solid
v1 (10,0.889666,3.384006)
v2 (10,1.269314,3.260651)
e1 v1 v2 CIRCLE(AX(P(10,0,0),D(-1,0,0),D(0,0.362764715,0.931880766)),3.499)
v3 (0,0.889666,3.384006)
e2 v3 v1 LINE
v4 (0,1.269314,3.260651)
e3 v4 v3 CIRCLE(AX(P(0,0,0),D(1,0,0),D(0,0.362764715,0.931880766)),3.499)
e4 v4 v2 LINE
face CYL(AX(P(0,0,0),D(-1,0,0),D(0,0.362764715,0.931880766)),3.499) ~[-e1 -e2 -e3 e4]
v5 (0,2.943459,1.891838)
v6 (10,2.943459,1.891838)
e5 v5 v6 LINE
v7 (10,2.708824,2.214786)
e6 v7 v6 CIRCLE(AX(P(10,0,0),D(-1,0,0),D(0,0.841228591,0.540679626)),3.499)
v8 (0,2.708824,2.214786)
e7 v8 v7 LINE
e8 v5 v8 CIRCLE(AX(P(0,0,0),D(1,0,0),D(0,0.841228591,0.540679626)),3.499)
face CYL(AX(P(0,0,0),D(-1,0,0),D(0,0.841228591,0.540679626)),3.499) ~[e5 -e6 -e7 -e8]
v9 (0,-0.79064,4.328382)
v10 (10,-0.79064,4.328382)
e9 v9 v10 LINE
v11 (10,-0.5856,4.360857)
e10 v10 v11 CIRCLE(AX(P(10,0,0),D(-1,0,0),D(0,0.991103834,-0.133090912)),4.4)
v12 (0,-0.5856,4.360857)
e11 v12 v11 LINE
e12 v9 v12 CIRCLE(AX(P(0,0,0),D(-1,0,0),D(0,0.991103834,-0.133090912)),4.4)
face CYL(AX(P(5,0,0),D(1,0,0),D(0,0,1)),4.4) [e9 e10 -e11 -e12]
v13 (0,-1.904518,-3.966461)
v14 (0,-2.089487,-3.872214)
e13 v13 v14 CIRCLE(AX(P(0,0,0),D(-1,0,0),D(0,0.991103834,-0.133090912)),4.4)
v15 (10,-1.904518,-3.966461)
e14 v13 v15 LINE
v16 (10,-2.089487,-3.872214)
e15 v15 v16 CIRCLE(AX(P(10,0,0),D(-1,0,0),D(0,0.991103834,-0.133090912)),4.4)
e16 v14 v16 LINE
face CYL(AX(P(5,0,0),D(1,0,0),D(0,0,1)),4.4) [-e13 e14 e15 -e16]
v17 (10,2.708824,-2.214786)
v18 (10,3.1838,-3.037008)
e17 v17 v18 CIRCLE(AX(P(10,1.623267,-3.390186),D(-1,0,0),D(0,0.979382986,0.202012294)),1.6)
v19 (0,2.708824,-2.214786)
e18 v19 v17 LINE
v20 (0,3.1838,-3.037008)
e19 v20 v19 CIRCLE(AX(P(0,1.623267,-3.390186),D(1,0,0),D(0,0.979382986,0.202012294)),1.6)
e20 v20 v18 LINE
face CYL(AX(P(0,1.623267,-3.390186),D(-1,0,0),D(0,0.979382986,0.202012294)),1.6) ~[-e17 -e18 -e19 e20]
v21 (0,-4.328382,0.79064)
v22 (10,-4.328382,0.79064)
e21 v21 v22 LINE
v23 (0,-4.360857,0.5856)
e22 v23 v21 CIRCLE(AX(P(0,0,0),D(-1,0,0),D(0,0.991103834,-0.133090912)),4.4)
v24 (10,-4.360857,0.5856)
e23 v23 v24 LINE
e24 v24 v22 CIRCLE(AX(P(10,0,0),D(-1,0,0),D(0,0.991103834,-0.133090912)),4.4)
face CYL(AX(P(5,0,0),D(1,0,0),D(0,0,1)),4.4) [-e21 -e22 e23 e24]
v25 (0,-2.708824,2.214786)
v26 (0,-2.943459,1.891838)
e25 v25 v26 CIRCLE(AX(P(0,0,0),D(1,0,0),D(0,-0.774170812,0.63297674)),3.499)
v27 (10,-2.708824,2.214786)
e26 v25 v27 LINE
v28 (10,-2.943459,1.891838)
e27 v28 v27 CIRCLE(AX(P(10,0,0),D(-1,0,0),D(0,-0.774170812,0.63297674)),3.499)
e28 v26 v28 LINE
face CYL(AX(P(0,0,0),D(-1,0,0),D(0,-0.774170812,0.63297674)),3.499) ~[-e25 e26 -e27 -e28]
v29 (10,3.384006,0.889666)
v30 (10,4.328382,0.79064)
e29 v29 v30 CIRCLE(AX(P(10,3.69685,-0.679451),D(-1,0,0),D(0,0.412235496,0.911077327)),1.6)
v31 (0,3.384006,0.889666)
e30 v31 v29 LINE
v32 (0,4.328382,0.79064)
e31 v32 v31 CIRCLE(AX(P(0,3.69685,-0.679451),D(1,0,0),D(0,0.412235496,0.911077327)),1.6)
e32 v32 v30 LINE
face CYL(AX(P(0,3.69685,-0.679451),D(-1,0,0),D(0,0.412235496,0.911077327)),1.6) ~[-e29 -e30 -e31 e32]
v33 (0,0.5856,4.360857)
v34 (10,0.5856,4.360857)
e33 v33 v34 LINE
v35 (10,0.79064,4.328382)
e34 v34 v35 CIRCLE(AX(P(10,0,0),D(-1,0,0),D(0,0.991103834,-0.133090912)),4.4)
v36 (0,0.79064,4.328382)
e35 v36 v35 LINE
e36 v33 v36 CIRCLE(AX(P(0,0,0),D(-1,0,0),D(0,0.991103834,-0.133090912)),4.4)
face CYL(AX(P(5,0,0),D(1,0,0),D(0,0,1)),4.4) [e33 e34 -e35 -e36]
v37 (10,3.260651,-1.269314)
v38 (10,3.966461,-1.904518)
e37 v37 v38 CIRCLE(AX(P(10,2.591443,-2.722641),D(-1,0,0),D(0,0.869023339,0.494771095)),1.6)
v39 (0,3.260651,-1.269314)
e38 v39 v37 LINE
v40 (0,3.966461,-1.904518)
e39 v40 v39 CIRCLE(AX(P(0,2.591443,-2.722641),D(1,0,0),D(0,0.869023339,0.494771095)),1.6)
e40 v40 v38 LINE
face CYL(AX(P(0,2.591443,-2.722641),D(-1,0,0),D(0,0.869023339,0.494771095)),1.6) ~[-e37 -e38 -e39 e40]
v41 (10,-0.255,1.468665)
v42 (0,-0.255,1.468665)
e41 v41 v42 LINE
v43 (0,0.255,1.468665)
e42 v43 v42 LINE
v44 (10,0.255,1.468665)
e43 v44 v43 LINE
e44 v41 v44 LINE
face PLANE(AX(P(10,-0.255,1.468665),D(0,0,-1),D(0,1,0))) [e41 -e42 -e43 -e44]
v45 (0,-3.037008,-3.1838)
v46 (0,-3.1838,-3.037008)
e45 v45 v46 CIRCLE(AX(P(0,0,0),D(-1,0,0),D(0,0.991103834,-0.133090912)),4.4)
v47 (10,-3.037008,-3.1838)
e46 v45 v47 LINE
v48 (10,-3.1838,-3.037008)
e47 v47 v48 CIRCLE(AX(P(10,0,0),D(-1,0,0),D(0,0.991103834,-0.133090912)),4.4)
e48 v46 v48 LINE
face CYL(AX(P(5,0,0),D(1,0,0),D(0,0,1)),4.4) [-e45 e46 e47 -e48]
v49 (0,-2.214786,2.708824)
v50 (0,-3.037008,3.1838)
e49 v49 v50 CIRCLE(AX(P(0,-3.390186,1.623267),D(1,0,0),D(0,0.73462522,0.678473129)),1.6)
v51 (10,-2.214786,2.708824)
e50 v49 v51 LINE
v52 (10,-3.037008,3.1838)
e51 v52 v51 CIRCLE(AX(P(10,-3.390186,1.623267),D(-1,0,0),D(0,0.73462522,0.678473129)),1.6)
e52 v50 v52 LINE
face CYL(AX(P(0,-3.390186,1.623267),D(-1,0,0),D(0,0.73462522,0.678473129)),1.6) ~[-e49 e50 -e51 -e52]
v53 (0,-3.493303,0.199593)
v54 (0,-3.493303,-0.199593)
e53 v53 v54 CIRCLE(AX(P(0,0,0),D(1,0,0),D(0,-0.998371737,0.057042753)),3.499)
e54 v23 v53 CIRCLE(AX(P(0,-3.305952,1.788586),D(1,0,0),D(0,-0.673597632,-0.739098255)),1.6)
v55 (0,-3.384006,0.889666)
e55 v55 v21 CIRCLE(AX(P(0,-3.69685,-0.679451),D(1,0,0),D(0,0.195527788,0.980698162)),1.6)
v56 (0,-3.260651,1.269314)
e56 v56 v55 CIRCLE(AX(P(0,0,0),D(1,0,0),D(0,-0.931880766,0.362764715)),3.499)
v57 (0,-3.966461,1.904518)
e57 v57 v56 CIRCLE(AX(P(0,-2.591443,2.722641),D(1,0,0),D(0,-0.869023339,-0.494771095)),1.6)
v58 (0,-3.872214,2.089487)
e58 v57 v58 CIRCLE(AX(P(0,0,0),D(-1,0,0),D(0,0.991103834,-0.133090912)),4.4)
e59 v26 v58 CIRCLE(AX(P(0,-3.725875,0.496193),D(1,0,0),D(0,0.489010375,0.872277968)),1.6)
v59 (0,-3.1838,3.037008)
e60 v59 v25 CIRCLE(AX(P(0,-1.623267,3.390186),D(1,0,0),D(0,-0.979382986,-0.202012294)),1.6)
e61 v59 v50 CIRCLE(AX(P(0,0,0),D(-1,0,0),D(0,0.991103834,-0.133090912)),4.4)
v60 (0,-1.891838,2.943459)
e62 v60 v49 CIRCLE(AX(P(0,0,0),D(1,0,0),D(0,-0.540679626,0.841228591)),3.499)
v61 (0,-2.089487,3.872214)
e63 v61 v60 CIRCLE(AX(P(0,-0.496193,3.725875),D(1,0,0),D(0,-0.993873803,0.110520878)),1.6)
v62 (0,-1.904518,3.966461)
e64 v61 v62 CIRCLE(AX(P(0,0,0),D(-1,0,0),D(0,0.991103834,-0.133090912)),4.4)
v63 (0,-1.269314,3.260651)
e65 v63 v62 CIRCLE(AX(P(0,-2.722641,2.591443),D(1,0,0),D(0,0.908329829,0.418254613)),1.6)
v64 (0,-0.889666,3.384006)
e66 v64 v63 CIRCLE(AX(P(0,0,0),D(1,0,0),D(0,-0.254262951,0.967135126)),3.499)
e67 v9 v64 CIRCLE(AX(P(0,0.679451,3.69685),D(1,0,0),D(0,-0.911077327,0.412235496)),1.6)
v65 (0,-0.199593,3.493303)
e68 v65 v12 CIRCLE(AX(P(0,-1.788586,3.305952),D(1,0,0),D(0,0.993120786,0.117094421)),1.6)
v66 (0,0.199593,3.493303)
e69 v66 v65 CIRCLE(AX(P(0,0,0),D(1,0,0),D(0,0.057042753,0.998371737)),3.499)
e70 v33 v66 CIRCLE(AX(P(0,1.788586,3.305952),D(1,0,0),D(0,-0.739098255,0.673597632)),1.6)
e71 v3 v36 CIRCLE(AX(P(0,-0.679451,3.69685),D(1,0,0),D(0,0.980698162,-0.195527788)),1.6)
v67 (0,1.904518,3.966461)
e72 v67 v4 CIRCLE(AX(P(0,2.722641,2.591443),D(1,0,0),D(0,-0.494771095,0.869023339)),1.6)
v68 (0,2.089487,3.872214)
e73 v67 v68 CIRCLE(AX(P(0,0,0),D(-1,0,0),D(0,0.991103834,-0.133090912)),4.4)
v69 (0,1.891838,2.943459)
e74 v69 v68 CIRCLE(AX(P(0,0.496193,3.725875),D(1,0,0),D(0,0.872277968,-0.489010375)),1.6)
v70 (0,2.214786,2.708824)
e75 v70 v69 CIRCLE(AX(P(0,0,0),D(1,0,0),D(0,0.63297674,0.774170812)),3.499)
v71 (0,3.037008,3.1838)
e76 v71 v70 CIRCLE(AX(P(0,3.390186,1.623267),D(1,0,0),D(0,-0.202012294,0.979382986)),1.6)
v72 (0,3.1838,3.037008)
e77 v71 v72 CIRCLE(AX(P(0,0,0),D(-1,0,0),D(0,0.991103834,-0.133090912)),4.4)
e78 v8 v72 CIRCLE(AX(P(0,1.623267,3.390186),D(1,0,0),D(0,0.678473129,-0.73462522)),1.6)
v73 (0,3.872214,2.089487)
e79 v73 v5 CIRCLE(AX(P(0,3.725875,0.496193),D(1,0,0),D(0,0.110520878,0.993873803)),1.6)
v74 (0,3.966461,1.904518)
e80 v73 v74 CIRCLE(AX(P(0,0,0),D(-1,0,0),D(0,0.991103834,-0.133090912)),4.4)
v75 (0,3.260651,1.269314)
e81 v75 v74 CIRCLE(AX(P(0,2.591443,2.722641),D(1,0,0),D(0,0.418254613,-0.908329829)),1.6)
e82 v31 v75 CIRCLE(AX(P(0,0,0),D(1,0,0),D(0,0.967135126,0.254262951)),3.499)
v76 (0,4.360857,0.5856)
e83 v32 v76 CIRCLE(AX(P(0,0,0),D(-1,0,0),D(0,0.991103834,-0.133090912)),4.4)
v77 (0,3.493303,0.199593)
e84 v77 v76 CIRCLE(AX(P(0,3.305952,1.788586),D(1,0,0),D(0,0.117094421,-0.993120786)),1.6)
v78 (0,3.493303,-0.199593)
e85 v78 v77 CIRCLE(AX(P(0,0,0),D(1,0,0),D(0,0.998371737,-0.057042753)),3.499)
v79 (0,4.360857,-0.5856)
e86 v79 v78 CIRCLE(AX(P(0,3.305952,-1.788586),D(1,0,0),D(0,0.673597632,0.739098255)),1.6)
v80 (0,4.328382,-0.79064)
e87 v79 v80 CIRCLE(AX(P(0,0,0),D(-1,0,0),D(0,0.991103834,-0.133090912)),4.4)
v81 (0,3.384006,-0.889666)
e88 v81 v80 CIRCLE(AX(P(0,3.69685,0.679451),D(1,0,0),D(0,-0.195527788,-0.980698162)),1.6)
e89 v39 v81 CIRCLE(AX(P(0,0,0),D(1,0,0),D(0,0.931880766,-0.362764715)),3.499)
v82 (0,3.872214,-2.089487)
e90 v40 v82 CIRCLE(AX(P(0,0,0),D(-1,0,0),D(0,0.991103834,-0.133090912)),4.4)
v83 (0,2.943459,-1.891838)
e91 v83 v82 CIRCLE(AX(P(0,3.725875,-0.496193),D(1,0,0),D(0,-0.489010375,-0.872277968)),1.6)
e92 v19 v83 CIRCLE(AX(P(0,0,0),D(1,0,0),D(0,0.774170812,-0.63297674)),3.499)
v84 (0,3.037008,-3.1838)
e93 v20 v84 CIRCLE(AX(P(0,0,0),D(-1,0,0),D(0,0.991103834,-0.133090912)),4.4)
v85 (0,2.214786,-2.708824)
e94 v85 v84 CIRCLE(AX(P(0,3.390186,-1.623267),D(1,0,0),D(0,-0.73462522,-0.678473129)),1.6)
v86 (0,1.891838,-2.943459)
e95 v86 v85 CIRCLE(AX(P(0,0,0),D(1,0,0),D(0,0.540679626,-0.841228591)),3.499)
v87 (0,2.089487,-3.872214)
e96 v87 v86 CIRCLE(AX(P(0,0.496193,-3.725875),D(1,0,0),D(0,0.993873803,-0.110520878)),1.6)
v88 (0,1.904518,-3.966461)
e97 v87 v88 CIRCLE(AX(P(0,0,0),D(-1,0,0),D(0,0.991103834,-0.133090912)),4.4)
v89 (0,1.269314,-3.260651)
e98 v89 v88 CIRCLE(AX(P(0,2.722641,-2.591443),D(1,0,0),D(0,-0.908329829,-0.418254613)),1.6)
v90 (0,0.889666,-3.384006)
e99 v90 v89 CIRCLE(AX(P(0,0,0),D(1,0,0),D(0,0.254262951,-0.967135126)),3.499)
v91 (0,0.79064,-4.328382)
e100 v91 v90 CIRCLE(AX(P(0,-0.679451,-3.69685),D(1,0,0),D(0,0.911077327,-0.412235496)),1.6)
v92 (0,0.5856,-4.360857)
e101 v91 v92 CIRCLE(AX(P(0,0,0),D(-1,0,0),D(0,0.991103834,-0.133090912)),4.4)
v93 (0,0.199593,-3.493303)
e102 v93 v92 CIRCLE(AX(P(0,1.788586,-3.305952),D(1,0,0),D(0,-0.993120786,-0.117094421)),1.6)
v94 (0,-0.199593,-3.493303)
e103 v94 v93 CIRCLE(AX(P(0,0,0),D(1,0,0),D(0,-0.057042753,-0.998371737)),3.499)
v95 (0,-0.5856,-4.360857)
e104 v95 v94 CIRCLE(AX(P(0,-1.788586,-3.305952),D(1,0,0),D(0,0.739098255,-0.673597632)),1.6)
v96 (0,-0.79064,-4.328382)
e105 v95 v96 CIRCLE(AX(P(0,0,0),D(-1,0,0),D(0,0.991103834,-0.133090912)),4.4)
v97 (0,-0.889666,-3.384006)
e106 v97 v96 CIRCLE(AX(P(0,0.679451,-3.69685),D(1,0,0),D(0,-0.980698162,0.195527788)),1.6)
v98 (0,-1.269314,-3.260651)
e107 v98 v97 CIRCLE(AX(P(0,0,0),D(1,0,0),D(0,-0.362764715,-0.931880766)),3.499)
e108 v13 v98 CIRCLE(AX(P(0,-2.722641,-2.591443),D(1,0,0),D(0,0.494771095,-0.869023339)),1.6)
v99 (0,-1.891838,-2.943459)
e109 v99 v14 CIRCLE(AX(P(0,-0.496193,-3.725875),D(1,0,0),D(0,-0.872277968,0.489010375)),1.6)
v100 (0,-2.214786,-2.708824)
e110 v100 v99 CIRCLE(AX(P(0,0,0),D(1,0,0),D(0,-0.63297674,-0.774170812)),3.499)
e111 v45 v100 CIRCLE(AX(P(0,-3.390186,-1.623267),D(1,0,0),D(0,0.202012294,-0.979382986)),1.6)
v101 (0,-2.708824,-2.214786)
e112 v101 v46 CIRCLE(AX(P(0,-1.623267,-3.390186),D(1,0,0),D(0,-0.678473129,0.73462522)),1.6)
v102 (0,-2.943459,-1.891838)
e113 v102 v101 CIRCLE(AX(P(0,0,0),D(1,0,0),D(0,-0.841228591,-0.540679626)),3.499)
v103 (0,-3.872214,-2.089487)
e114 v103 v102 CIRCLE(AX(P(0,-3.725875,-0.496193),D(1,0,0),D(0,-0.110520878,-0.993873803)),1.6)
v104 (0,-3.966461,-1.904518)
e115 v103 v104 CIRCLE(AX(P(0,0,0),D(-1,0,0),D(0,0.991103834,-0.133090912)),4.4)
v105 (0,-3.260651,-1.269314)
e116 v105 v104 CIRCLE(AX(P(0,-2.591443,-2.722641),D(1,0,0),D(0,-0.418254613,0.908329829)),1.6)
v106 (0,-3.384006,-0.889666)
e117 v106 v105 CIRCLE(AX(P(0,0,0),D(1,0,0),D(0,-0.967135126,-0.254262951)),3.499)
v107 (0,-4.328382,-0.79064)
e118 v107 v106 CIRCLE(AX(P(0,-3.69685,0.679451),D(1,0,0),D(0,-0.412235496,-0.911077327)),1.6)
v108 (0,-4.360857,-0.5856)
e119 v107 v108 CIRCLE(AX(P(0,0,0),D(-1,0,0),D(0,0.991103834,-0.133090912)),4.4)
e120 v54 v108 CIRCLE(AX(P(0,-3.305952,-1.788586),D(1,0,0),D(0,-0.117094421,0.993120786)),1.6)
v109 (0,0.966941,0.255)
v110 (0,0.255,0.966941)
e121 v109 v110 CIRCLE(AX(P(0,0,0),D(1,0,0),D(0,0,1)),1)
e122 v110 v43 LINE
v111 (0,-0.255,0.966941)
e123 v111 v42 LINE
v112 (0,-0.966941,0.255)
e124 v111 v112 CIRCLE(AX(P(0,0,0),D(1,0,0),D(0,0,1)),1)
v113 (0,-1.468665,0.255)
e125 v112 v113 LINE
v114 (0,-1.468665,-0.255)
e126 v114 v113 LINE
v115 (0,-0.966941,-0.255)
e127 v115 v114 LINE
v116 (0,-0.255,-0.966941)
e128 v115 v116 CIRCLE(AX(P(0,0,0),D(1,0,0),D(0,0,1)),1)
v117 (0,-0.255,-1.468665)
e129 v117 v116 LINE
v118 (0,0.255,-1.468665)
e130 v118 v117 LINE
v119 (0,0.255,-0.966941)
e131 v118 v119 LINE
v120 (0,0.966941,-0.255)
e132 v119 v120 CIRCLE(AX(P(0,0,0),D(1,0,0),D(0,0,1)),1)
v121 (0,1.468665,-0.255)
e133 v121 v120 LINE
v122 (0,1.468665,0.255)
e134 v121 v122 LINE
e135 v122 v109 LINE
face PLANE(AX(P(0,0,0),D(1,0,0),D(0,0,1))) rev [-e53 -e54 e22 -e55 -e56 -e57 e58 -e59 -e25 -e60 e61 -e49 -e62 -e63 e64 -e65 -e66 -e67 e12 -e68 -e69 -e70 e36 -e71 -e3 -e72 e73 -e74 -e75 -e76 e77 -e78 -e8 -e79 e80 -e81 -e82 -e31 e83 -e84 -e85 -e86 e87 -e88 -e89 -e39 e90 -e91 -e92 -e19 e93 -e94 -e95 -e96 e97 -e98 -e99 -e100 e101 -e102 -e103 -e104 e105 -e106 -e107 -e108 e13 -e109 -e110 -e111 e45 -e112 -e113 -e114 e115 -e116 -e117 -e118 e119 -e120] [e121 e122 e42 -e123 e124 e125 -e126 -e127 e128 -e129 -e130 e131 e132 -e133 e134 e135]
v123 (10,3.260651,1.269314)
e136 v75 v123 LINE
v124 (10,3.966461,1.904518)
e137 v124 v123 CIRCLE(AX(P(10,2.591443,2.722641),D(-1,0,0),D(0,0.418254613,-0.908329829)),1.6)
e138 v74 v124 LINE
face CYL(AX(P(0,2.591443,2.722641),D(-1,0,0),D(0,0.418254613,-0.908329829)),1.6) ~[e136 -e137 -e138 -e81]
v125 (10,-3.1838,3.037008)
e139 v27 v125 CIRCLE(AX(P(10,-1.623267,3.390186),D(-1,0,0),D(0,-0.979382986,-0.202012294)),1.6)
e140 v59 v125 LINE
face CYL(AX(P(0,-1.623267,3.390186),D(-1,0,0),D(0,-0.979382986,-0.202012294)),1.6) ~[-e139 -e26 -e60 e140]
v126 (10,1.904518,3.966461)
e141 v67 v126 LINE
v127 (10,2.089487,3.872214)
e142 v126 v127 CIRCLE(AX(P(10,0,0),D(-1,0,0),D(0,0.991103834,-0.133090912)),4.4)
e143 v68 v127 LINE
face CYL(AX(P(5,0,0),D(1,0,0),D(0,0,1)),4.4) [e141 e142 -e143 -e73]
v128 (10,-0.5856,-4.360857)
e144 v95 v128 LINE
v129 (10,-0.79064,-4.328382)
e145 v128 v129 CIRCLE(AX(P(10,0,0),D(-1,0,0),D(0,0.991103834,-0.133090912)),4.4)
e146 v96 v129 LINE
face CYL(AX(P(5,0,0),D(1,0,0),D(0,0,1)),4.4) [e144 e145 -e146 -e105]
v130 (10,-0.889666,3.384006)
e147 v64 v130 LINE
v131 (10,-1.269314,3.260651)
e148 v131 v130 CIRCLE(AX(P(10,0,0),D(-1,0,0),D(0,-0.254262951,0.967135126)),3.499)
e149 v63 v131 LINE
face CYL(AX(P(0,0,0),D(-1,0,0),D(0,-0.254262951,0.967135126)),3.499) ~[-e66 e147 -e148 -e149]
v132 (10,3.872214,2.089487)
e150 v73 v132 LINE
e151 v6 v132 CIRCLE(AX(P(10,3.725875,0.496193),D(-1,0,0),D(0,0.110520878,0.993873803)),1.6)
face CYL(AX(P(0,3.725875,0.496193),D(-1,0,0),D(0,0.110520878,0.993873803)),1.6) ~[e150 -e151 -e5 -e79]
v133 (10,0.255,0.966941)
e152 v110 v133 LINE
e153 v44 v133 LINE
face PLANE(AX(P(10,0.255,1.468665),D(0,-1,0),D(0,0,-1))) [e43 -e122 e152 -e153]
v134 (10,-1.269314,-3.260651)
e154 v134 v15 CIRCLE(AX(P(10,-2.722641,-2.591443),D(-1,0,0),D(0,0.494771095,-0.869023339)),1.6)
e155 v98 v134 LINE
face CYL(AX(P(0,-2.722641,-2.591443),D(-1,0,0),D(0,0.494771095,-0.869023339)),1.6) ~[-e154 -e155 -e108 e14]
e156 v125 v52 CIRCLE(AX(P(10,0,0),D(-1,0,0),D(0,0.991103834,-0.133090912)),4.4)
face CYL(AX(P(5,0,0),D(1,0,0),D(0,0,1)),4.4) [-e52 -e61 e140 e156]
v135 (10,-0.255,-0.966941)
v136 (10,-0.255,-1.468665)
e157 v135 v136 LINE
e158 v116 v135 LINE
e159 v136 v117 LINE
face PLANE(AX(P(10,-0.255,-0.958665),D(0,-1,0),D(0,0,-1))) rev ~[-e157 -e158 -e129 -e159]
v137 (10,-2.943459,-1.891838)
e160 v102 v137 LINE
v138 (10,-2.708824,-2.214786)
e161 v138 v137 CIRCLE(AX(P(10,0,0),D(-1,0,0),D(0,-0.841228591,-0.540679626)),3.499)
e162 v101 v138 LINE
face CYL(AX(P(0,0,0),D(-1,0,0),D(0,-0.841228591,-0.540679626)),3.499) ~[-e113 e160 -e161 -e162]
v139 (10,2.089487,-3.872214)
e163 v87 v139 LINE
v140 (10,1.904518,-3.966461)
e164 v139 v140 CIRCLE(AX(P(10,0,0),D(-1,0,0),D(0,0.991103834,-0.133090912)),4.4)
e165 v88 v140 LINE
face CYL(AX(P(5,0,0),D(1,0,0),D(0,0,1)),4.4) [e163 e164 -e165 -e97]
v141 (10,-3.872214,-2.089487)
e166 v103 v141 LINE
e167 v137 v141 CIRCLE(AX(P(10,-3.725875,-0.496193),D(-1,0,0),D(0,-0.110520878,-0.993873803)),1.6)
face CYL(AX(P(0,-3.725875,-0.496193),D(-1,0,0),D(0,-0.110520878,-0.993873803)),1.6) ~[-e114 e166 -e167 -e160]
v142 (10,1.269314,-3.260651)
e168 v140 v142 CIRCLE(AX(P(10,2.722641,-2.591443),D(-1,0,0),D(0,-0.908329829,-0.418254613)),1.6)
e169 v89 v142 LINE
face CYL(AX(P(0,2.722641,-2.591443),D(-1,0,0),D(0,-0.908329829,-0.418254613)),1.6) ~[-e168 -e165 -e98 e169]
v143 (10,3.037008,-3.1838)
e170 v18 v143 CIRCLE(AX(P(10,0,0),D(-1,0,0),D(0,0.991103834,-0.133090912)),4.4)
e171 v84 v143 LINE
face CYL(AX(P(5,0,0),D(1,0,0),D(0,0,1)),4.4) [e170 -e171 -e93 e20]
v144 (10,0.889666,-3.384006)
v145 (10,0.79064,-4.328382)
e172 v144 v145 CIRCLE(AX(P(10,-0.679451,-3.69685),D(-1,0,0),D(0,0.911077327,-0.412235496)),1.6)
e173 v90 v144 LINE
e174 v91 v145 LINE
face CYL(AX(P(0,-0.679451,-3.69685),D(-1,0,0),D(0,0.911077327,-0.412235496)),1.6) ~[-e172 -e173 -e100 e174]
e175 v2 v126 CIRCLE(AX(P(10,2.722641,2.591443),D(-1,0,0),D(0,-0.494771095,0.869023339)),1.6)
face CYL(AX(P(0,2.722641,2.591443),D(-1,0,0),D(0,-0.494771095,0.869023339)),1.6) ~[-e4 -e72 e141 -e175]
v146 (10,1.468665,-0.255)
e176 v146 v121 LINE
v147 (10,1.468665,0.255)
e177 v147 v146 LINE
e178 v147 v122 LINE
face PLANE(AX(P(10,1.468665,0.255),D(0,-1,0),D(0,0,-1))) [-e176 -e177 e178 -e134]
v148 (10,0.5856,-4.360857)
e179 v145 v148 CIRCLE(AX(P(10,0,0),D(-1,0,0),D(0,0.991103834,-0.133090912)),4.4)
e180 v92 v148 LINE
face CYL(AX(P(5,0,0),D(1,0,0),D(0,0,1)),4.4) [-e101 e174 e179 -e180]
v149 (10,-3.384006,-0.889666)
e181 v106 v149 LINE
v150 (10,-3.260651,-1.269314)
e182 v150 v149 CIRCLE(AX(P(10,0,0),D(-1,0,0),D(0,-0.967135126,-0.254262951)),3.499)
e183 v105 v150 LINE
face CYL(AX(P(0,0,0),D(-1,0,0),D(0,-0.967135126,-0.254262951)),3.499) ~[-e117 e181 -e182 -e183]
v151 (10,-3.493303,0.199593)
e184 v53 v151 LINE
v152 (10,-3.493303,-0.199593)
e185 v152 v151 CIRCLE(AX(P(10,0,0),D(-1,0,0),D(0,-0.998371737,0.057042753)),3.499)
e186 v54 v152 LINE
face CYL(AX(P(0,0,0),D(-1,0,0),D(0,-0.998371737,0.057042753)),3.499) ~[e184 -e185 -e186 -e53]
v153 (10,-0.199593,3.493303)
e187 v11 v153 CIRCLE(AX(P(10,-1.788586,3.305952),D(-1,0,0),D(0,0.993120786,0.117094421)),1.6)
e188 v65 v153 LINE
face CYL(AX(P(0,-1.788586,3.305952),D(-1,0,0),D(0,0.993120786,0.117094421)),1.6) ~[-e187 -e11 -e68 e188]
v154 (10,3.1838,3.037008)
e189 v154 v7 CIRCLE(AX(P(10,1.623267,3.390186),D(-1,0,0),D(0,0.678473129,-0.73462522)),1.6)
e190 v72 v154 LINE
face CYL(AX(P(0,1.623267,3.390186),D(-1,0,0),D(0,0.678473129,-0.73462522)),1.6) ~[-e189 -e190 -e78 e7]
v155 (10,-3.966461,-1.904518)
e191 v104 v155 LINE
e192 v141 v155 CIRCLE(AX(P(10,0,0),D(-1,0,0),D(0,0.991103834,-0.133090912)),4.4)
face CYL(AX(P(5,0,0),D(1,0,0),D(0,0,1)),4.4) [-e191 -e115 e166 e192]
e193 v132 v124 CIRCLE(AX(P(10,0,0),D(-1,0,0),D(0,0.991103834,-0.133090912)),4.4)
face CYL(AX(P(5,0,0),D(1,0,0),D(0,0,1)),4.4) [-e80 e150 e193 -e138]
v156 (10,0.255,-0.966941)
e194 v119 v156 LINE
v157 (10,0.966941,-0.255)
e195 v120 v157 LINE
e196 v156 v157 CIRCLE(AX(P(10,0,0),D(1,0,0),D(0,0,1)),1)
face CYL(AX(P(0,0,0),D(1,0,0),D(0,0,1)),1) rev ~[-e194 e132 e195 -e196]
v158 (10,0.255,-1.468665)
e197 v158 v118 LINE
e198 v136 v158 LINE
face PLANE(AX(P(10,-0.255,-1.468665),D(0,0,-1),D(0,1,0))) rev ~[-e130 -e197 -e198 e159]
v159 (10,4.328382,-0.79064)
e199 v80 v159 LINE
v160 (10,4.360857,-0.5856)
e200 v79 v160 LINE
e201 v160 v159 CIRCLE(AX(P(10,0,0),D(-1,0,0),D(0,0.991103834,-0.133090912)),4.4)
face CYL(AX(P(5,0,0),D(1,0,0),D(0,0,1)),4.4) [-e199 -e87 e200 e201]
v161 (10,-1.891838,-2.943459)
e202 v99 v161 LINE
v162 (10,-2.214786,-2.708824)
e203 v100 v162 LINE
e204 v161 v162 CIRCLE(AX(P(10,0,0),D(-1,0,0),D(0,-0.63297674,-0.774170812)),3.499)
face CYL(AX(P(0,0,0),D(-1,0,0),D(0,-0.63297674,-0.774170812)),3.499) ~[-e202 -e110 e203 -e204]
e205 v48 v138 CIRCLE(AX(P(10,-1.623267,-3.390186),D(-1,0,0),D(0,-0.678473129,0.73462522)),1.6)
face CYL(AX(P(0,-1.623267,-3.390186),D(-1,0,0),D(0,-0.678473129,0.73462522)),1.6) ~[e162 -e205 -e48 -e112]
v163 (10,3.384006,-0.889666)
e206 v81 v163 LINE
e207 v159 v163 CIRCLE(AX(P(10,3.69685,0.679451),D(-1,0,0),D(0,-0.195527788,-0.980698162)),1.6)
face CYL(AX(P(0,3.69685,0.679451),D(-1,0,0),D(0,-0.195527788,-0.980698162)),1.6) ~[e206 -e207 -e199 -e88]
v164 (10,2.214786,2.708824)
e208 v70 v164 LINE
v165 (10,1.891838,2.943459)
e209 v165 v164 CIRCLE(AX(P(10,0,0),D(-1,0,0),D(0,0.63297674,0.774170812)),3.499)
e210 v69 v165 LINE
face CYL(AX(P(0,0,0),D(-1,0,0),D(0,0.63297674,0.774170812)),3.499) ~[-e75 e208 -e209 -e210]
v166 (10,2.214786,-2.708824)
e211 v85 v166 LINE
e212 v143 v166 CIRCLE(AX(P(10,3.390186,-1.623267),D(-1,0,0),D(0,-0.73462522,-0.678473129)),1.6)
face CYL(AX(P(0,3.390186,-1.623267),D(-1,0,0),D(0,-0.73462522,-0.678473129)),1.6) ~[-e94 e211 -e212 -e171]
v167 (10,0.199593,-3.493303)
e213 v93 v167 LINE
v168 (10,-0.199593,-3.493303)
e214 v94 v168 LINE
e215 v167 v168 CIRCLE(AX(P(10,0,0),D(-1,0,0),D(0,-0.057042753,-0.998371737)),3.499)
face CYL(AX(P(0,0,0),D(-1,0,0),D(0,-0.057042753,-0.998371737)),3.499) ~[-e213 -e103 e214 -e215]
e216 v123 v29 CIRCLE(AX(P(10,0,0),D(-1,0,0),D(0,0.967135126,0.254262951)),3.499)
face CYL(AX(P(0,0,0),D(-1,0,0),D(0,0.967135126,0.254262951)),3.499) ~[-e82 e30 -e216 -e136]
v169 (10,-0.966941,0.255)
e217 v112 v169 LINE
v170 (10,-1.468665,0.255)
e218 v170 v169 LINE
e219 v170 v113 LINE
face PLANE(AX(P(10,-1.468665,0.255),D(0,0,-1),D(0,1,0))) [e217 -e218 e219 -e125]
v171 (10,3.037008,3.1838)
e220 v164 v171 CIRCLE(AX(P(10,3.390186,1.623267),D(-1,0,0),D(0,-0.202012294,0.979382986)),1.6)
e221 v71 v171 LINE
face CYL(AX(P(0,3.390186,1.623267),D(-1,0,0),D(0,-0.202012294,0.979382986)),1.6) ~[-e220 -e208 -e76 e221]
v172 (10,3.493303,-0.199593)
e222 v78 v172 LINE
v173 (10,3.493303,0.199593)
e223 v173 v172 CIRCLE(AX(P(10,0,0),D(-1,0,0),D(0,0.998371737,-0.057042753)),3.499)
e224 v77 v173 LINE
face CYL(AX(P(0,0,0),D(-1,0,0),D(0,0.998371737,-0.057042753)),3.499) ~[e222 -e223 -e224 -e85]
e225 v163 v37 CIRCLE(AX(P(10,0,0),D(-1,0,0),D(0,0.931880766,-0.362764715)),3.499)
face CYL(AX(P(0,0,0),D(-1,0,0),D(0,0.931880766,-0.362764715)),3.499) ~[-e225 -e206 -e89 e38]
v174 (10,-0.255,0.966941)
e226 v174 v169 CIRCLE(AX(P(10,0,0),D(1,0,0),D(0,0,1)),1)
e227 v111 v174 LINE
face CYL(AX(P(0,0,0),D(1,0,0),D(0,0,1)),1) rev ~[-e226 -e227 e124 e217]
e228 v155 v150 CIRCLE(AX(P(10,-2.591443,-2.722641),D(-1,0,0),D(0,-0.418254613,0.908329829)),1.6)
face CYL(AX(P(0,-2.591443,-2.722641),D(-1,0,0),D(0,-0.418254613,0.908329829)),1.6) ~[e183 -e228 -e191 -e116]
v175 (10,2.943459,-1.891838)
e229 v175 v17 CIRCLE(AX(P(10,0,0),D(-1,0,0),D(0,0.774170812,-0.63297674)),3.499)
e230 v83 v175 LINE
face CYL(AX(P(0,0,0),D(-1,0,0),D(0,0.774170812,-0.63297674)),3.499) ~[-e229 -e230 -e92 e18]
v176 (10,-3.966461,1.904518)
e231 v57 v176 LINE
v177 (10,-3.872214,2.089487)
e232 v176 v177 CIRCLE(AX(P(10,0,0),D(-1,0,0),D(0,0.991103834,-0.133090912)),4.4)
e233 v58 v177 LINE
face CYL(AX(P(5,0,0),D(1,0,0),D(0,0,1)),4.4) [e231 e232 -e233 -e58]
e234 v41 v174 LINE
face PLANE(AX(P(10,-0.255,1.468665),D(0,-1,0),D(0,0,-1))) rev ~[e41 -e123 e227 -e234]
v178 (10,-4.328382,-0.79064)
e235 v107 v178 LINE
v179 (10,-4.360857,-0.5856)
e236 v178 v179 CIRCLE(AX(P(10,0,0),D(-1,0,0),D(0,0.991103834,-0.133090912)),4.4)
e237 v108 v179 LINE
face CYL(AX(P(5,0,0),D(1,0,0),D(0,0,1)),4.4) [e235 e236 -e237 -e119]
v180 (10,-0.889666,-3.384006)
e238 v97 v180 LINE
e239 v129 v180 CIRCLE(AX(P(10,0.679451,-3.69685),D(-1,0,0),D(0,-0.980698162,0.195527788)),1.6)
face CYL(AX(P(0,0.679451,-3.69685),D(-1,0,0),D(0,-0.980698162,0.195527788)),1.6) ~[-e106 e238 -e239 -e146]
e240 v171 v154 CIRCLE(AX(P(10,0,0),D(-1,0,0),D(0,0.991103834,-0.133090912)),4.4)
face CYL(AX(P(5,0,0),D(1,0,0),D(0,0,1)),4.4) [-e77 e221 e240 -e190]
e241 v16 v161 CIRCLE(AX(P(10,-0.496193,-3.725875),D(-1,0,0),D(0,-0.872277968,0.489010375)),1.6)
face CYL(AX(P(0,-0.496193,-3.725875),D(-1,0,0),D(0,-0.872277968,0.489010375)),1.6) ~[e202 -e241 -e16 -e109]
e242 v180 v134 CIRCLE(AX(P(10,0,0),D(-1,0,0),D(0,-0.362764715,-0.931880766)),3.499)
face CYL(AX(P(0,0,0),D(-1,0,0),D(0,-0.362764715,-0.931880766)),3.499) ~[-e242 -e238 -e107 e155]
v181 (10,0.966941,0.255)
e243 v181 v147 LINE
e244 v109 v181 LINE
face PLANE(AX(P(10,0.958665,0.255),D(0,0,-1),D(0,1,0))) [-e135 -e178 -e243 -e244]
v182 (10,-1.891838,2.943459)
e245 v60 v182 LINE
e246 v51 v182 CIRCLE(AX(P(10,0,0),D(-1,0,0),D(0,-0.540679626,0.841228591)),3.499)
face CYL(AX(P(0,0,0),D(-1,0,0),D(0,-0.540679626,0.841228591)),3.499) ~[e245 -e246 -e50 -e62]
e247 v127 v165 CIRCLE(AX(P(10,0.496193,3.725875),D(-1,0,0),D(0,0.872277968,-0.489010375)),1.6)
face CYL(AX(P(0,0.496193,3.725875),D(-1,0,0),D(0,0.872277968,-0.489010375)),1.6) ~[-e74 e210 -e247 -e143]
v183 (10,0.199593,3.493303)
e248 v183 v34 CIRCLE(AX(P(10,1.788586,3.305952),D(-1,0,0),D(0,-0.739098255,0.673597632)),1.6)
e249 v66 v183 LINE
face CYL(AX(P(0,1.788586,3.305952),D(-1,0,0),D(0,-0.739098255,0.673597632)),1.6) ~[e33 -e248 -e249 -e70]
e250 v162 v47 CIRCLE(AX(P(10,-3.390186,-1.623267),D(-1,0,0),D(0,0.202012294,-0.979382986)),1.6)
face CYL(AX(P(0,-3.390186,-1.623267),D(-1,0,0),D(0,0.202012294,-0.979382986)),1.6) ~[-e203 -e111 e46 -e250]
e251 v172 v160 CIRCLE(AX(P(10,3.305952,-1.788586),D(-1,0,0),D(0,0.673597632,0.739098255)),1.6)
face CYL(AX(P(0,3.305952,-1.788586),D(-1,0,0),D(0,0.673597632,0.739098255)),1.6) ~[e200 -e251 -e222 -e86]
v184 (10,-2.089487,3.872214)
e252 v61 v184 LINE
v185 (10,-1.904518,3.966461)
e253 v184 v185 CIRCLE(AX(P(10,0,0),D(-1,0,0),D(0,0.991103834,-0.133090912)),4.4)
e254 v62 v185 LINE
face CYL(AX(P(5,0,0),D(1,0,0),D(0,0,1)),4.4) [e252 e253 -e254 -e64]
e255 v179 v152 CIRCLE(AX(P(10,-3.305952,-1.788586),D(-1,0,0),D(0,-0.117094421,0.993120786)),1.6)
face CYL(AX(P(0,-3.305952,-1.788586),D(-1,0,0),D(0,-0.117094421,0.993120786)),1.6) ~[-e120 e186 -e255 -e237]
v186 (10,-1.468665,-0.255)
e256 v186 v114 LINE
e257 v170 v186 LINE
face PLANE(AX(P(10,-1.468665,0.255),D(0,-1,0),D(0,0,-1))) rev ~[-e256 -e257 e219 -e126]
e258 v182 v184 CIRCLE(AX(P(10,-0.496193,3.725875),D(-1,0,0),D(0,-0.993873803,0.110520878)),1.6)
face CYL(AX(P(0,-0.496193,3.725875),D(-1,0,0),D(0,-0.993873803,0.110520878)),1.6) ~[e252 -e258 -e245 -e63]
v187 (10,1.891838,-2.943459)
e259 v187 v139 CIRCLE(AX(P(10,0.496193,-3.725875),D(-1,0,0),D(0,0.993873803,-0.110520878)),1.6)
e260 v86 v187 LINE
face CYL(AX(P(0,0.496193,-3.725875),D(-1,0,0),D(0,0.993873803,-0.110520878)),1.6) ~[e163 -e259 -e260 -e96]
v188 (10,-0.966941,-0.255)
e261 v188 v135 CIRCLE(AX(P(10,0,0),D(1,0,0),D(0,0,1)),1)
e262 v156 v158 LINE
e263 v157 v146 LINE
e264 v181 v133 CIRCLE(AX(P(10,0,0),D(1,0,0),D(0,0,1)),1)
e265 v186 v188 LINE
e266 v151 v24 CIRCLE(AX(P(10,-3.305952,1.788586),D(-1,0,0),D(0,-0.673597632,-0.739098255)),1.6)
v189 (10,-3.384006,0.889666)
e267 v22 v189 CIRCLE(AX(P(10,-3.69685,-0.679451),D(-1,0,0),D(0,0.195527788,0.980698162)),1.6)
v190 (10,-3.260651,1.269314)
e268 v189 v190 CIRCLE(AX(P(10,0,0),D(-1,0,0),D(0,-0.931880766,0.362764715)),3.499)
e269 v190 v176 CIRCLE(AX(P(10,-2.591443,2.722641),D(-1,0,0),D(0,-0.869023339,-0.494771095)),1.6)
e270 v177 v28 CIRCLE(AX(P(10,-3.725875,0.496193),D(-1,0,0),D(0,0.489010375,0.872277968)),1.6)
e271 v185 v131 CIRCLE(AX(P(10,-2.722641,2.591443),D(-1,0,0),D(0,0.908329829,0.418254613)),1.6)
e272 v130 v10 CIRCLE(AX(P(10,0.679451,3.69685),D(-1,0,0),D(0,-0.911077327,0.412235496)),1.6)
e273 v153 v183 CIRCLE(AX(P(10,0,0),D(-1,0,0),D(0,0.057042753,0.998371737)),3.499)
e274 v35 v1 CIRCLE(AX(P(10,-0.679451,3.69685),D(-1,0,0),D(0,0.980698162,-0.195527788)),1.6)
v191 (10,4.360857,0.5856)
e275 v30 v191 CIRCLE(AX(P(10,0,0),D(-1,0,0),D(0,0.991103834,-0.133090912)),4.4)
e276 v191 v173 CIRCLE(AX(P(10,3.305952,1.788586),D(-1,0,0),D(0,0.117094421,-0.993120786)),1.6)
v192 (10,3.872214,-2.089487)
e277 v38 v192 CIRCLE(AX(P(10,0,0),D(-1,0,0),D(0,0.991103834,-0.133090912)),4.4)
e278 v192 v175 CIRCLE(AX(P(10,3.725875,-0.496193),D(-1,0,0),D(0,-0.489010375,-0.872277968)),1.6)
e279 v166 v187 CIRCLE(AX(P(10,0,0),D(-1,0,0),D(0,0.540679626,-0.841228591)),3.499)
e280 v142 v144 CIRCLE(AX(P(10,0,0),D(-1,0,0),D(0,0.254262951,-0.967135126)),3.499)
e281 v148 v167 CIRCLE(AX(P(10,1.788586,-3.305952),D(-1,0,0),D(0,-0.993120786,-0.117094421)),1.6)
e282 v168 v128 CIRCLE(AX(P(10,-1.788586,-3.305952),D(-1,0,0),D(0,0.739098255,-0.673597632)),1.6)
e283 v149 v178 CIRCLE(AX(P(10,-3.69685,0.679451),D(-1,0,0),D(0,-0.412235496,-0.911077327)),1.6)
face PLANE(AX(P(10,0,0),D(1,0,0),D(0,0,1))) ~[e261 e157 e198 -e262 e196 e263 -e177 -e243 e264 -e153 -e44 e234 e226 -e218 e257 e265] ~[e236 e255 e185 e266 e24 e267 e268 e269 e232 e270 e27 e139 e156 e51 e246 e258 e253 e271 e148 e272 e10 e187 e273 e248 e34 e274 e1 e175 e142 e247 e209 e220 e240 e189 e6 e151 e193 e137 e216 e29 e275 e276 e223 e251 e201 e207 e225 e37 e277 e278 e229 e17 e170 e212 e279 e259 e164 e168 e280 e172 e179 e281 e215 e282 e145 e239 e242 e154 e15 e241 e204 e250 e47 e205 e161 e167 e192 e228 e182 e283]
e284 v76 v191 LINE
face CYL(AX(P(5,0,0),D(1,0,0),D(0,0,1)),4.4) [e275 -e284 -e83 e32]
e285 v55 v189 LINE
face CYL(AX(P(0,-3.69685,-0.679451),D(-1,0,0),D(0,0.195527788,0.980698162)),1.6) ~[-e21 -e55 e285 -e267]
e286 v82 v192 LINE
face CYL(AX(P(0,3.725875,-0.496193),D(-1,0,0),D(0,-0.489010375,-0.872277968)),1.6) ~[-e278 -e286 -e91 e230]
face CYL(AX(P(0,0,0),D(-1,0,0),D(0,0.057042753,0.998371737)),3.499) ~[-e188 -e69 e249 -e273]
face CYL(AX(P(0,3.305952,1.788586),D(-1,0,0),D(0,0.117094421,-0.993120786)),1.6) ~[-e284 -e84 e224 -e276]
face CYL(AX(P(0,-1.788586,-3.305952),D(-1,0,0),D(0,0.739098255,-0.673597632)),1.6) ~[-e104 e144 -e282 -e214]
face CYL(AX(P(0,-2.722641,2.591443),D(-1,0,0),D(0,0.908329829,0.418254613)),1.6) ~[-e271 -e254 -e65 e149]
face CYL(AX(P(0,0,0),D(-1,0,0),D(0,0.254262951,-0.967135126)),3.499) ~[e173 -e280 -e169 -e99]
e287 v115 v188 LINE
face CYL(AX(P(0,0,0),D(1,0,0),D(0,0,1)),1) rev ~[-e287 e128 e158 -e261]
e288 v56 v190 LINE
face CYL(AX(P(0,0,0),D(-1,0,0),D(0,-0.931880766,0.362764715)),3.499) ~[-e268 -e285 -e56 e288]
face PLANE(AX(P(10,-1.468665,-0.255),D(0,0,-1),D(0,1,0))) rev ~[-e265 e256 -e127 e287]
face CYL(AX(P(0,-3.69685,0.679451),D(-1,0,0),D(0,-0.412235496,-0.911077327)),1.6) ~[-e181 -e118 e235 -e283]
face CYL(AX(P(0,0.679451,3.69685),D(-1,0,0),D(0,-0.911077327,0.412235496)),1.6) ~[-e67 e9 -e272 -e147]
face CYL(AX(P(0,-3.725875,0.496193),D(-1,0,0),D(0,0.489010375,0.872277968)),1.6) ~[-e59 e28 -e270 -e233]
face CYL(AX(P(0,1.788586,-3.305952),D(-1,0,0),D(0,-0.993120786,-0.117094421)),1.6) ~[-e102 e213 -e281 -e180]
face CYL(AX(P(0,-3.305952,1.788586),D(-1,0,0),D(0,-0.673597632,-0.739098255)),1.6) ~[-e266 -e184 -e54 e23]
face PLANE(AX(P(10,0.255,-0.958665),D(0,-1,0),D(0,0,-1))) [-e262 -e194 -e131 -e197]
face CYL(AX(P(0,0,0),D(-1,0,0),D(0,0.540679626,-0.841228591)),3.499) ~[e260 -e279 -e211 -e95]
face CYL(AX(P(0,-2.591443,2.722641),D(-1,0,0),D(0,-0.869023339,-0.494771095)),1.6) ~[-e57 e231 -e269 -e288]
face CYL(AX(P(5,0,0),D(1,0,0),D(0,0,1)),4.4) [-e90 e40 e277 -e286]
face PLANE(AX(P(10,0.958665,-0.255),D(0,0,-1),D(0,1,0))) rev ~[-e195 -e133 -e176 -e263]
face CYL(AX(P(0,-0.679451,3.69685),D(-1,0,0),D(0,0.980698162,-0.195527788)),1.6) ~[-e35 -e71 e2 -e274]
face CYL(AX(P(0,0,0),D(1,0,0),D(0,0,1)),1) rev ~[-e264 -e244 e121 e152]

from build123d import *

# Parameters (mm, degrees)
BASPROSKE_W        = 10
BASPROSKE_H        = 4.4
TOOTHCUT_DEPTH     = 12.777945491
TEETHCUTS_COUNT    = 20
TEETHCUTS_ANGLE    = 342
BORSKE_R           = 1
BORE_DEPTH         = 50.0000508
SKETCH1_W          = 0.51
SKETCH1_H          = 0.51
CUT_EXTRUDE1_DEPTH = 100


with BuildPart() as part:
    # BasProSke → Base-Revolve (revolve)
    with BuildSketch(Plane(origin=(0, 0, 0), x_dir=(1, 0, 0), z_dir=(0, 1, 0)), mode=Mode.PRIVATE) as base_revolve_sk:
        with Locations((5, 2.2)):
            Rectangle(BASPROSKE_W, BASPROSKE_H)
    revolve(base_revolve_sk.sketch.rotate(Axis((-10, 0, 0), (1, 0, 0)), 180), axis=Axis((-10, 0, 0), (1, 0, 0)))

    # TooCutSke → ToothCut (cut, through all)
    with BuildSketch(Plane(origin=(0, 0, 0), x_dir=(0, 0, -1), z_dir=(1, 0, 0))):
        with BuildLine():
            ThreePointArc((0.199592598, 3.493302706), (0, 3.499), (-0.199592598, 3.493302706))
            ThreePointArc((-0.199592598, 3.493302706), (-0.333052166, 3.970347354), (-0.606028648, 4.383707841))
            ThreePointArc((-0.606028648, 4.383707841), (0, 4.4254), (0.606028648, 4.383707841))
            ThreePointArc((0.606028648, 4.383707841), (0.333052166, 3.970347354), (0.199592598, 3.493302706))
        make_face()
    toothcut = extrude(amount=TOOTHCUT_DEPTH, mode=Mode.SUBTRACT)

    # TeethCuts: ToothCut ×20 about axis
    teethcuts_axis = Axis((-10, 0, 0), (1, 0, 0))
    for i in range(1, TEETHCUTS_COUNT):
        add(toothcut.rotate(teethcuts_axis, i * TEETHCUTS_ANGLE / (TEETHCUTS_COUNT - 1)), mode=Mode.SUBTRACT)

    # BorSke → Bore (cut, symmetric)
    with BuildSketch(Plane(origin=(0, 0, 0), x_dir=(0, 0, -1), z_dir=(1, 0, 0))):
        with Locations(Location((0, 0, 0), (0, 0, 180))):
            Circle(BORSKE_R)
    extrude(amount=BORE_DEPTH, both=True, mode=Mode.SUBTRACT)

    # Sketch1 → Cut-Extrude1 (cut)
    with BuildSketch(Plane(origin=(10, 0, 0), x_dir=(0, 0, -1), z_dir=(1, 0, 0))):
        with Locations((0, 1.213665218)):
            Rectangle(SKETCH1_W, SKETCH1_H)
        with Locations((1.213665218, 0)):
            Rectangle(SKETCH1_W, SKETCH1_H)
        with Locations((0, -1.213665218)):
            Rectangle(SKETCH1_W, SKETCH1_H)
        with Locations((-1.213665218, 0)):
            Rectangle(SKETCH1_W, SKETCH1_H)
    extrude(amount=-CUT_EXTRUDE1_DEPTH, mode=Mode.SUBTRACT)


solid = part.part
